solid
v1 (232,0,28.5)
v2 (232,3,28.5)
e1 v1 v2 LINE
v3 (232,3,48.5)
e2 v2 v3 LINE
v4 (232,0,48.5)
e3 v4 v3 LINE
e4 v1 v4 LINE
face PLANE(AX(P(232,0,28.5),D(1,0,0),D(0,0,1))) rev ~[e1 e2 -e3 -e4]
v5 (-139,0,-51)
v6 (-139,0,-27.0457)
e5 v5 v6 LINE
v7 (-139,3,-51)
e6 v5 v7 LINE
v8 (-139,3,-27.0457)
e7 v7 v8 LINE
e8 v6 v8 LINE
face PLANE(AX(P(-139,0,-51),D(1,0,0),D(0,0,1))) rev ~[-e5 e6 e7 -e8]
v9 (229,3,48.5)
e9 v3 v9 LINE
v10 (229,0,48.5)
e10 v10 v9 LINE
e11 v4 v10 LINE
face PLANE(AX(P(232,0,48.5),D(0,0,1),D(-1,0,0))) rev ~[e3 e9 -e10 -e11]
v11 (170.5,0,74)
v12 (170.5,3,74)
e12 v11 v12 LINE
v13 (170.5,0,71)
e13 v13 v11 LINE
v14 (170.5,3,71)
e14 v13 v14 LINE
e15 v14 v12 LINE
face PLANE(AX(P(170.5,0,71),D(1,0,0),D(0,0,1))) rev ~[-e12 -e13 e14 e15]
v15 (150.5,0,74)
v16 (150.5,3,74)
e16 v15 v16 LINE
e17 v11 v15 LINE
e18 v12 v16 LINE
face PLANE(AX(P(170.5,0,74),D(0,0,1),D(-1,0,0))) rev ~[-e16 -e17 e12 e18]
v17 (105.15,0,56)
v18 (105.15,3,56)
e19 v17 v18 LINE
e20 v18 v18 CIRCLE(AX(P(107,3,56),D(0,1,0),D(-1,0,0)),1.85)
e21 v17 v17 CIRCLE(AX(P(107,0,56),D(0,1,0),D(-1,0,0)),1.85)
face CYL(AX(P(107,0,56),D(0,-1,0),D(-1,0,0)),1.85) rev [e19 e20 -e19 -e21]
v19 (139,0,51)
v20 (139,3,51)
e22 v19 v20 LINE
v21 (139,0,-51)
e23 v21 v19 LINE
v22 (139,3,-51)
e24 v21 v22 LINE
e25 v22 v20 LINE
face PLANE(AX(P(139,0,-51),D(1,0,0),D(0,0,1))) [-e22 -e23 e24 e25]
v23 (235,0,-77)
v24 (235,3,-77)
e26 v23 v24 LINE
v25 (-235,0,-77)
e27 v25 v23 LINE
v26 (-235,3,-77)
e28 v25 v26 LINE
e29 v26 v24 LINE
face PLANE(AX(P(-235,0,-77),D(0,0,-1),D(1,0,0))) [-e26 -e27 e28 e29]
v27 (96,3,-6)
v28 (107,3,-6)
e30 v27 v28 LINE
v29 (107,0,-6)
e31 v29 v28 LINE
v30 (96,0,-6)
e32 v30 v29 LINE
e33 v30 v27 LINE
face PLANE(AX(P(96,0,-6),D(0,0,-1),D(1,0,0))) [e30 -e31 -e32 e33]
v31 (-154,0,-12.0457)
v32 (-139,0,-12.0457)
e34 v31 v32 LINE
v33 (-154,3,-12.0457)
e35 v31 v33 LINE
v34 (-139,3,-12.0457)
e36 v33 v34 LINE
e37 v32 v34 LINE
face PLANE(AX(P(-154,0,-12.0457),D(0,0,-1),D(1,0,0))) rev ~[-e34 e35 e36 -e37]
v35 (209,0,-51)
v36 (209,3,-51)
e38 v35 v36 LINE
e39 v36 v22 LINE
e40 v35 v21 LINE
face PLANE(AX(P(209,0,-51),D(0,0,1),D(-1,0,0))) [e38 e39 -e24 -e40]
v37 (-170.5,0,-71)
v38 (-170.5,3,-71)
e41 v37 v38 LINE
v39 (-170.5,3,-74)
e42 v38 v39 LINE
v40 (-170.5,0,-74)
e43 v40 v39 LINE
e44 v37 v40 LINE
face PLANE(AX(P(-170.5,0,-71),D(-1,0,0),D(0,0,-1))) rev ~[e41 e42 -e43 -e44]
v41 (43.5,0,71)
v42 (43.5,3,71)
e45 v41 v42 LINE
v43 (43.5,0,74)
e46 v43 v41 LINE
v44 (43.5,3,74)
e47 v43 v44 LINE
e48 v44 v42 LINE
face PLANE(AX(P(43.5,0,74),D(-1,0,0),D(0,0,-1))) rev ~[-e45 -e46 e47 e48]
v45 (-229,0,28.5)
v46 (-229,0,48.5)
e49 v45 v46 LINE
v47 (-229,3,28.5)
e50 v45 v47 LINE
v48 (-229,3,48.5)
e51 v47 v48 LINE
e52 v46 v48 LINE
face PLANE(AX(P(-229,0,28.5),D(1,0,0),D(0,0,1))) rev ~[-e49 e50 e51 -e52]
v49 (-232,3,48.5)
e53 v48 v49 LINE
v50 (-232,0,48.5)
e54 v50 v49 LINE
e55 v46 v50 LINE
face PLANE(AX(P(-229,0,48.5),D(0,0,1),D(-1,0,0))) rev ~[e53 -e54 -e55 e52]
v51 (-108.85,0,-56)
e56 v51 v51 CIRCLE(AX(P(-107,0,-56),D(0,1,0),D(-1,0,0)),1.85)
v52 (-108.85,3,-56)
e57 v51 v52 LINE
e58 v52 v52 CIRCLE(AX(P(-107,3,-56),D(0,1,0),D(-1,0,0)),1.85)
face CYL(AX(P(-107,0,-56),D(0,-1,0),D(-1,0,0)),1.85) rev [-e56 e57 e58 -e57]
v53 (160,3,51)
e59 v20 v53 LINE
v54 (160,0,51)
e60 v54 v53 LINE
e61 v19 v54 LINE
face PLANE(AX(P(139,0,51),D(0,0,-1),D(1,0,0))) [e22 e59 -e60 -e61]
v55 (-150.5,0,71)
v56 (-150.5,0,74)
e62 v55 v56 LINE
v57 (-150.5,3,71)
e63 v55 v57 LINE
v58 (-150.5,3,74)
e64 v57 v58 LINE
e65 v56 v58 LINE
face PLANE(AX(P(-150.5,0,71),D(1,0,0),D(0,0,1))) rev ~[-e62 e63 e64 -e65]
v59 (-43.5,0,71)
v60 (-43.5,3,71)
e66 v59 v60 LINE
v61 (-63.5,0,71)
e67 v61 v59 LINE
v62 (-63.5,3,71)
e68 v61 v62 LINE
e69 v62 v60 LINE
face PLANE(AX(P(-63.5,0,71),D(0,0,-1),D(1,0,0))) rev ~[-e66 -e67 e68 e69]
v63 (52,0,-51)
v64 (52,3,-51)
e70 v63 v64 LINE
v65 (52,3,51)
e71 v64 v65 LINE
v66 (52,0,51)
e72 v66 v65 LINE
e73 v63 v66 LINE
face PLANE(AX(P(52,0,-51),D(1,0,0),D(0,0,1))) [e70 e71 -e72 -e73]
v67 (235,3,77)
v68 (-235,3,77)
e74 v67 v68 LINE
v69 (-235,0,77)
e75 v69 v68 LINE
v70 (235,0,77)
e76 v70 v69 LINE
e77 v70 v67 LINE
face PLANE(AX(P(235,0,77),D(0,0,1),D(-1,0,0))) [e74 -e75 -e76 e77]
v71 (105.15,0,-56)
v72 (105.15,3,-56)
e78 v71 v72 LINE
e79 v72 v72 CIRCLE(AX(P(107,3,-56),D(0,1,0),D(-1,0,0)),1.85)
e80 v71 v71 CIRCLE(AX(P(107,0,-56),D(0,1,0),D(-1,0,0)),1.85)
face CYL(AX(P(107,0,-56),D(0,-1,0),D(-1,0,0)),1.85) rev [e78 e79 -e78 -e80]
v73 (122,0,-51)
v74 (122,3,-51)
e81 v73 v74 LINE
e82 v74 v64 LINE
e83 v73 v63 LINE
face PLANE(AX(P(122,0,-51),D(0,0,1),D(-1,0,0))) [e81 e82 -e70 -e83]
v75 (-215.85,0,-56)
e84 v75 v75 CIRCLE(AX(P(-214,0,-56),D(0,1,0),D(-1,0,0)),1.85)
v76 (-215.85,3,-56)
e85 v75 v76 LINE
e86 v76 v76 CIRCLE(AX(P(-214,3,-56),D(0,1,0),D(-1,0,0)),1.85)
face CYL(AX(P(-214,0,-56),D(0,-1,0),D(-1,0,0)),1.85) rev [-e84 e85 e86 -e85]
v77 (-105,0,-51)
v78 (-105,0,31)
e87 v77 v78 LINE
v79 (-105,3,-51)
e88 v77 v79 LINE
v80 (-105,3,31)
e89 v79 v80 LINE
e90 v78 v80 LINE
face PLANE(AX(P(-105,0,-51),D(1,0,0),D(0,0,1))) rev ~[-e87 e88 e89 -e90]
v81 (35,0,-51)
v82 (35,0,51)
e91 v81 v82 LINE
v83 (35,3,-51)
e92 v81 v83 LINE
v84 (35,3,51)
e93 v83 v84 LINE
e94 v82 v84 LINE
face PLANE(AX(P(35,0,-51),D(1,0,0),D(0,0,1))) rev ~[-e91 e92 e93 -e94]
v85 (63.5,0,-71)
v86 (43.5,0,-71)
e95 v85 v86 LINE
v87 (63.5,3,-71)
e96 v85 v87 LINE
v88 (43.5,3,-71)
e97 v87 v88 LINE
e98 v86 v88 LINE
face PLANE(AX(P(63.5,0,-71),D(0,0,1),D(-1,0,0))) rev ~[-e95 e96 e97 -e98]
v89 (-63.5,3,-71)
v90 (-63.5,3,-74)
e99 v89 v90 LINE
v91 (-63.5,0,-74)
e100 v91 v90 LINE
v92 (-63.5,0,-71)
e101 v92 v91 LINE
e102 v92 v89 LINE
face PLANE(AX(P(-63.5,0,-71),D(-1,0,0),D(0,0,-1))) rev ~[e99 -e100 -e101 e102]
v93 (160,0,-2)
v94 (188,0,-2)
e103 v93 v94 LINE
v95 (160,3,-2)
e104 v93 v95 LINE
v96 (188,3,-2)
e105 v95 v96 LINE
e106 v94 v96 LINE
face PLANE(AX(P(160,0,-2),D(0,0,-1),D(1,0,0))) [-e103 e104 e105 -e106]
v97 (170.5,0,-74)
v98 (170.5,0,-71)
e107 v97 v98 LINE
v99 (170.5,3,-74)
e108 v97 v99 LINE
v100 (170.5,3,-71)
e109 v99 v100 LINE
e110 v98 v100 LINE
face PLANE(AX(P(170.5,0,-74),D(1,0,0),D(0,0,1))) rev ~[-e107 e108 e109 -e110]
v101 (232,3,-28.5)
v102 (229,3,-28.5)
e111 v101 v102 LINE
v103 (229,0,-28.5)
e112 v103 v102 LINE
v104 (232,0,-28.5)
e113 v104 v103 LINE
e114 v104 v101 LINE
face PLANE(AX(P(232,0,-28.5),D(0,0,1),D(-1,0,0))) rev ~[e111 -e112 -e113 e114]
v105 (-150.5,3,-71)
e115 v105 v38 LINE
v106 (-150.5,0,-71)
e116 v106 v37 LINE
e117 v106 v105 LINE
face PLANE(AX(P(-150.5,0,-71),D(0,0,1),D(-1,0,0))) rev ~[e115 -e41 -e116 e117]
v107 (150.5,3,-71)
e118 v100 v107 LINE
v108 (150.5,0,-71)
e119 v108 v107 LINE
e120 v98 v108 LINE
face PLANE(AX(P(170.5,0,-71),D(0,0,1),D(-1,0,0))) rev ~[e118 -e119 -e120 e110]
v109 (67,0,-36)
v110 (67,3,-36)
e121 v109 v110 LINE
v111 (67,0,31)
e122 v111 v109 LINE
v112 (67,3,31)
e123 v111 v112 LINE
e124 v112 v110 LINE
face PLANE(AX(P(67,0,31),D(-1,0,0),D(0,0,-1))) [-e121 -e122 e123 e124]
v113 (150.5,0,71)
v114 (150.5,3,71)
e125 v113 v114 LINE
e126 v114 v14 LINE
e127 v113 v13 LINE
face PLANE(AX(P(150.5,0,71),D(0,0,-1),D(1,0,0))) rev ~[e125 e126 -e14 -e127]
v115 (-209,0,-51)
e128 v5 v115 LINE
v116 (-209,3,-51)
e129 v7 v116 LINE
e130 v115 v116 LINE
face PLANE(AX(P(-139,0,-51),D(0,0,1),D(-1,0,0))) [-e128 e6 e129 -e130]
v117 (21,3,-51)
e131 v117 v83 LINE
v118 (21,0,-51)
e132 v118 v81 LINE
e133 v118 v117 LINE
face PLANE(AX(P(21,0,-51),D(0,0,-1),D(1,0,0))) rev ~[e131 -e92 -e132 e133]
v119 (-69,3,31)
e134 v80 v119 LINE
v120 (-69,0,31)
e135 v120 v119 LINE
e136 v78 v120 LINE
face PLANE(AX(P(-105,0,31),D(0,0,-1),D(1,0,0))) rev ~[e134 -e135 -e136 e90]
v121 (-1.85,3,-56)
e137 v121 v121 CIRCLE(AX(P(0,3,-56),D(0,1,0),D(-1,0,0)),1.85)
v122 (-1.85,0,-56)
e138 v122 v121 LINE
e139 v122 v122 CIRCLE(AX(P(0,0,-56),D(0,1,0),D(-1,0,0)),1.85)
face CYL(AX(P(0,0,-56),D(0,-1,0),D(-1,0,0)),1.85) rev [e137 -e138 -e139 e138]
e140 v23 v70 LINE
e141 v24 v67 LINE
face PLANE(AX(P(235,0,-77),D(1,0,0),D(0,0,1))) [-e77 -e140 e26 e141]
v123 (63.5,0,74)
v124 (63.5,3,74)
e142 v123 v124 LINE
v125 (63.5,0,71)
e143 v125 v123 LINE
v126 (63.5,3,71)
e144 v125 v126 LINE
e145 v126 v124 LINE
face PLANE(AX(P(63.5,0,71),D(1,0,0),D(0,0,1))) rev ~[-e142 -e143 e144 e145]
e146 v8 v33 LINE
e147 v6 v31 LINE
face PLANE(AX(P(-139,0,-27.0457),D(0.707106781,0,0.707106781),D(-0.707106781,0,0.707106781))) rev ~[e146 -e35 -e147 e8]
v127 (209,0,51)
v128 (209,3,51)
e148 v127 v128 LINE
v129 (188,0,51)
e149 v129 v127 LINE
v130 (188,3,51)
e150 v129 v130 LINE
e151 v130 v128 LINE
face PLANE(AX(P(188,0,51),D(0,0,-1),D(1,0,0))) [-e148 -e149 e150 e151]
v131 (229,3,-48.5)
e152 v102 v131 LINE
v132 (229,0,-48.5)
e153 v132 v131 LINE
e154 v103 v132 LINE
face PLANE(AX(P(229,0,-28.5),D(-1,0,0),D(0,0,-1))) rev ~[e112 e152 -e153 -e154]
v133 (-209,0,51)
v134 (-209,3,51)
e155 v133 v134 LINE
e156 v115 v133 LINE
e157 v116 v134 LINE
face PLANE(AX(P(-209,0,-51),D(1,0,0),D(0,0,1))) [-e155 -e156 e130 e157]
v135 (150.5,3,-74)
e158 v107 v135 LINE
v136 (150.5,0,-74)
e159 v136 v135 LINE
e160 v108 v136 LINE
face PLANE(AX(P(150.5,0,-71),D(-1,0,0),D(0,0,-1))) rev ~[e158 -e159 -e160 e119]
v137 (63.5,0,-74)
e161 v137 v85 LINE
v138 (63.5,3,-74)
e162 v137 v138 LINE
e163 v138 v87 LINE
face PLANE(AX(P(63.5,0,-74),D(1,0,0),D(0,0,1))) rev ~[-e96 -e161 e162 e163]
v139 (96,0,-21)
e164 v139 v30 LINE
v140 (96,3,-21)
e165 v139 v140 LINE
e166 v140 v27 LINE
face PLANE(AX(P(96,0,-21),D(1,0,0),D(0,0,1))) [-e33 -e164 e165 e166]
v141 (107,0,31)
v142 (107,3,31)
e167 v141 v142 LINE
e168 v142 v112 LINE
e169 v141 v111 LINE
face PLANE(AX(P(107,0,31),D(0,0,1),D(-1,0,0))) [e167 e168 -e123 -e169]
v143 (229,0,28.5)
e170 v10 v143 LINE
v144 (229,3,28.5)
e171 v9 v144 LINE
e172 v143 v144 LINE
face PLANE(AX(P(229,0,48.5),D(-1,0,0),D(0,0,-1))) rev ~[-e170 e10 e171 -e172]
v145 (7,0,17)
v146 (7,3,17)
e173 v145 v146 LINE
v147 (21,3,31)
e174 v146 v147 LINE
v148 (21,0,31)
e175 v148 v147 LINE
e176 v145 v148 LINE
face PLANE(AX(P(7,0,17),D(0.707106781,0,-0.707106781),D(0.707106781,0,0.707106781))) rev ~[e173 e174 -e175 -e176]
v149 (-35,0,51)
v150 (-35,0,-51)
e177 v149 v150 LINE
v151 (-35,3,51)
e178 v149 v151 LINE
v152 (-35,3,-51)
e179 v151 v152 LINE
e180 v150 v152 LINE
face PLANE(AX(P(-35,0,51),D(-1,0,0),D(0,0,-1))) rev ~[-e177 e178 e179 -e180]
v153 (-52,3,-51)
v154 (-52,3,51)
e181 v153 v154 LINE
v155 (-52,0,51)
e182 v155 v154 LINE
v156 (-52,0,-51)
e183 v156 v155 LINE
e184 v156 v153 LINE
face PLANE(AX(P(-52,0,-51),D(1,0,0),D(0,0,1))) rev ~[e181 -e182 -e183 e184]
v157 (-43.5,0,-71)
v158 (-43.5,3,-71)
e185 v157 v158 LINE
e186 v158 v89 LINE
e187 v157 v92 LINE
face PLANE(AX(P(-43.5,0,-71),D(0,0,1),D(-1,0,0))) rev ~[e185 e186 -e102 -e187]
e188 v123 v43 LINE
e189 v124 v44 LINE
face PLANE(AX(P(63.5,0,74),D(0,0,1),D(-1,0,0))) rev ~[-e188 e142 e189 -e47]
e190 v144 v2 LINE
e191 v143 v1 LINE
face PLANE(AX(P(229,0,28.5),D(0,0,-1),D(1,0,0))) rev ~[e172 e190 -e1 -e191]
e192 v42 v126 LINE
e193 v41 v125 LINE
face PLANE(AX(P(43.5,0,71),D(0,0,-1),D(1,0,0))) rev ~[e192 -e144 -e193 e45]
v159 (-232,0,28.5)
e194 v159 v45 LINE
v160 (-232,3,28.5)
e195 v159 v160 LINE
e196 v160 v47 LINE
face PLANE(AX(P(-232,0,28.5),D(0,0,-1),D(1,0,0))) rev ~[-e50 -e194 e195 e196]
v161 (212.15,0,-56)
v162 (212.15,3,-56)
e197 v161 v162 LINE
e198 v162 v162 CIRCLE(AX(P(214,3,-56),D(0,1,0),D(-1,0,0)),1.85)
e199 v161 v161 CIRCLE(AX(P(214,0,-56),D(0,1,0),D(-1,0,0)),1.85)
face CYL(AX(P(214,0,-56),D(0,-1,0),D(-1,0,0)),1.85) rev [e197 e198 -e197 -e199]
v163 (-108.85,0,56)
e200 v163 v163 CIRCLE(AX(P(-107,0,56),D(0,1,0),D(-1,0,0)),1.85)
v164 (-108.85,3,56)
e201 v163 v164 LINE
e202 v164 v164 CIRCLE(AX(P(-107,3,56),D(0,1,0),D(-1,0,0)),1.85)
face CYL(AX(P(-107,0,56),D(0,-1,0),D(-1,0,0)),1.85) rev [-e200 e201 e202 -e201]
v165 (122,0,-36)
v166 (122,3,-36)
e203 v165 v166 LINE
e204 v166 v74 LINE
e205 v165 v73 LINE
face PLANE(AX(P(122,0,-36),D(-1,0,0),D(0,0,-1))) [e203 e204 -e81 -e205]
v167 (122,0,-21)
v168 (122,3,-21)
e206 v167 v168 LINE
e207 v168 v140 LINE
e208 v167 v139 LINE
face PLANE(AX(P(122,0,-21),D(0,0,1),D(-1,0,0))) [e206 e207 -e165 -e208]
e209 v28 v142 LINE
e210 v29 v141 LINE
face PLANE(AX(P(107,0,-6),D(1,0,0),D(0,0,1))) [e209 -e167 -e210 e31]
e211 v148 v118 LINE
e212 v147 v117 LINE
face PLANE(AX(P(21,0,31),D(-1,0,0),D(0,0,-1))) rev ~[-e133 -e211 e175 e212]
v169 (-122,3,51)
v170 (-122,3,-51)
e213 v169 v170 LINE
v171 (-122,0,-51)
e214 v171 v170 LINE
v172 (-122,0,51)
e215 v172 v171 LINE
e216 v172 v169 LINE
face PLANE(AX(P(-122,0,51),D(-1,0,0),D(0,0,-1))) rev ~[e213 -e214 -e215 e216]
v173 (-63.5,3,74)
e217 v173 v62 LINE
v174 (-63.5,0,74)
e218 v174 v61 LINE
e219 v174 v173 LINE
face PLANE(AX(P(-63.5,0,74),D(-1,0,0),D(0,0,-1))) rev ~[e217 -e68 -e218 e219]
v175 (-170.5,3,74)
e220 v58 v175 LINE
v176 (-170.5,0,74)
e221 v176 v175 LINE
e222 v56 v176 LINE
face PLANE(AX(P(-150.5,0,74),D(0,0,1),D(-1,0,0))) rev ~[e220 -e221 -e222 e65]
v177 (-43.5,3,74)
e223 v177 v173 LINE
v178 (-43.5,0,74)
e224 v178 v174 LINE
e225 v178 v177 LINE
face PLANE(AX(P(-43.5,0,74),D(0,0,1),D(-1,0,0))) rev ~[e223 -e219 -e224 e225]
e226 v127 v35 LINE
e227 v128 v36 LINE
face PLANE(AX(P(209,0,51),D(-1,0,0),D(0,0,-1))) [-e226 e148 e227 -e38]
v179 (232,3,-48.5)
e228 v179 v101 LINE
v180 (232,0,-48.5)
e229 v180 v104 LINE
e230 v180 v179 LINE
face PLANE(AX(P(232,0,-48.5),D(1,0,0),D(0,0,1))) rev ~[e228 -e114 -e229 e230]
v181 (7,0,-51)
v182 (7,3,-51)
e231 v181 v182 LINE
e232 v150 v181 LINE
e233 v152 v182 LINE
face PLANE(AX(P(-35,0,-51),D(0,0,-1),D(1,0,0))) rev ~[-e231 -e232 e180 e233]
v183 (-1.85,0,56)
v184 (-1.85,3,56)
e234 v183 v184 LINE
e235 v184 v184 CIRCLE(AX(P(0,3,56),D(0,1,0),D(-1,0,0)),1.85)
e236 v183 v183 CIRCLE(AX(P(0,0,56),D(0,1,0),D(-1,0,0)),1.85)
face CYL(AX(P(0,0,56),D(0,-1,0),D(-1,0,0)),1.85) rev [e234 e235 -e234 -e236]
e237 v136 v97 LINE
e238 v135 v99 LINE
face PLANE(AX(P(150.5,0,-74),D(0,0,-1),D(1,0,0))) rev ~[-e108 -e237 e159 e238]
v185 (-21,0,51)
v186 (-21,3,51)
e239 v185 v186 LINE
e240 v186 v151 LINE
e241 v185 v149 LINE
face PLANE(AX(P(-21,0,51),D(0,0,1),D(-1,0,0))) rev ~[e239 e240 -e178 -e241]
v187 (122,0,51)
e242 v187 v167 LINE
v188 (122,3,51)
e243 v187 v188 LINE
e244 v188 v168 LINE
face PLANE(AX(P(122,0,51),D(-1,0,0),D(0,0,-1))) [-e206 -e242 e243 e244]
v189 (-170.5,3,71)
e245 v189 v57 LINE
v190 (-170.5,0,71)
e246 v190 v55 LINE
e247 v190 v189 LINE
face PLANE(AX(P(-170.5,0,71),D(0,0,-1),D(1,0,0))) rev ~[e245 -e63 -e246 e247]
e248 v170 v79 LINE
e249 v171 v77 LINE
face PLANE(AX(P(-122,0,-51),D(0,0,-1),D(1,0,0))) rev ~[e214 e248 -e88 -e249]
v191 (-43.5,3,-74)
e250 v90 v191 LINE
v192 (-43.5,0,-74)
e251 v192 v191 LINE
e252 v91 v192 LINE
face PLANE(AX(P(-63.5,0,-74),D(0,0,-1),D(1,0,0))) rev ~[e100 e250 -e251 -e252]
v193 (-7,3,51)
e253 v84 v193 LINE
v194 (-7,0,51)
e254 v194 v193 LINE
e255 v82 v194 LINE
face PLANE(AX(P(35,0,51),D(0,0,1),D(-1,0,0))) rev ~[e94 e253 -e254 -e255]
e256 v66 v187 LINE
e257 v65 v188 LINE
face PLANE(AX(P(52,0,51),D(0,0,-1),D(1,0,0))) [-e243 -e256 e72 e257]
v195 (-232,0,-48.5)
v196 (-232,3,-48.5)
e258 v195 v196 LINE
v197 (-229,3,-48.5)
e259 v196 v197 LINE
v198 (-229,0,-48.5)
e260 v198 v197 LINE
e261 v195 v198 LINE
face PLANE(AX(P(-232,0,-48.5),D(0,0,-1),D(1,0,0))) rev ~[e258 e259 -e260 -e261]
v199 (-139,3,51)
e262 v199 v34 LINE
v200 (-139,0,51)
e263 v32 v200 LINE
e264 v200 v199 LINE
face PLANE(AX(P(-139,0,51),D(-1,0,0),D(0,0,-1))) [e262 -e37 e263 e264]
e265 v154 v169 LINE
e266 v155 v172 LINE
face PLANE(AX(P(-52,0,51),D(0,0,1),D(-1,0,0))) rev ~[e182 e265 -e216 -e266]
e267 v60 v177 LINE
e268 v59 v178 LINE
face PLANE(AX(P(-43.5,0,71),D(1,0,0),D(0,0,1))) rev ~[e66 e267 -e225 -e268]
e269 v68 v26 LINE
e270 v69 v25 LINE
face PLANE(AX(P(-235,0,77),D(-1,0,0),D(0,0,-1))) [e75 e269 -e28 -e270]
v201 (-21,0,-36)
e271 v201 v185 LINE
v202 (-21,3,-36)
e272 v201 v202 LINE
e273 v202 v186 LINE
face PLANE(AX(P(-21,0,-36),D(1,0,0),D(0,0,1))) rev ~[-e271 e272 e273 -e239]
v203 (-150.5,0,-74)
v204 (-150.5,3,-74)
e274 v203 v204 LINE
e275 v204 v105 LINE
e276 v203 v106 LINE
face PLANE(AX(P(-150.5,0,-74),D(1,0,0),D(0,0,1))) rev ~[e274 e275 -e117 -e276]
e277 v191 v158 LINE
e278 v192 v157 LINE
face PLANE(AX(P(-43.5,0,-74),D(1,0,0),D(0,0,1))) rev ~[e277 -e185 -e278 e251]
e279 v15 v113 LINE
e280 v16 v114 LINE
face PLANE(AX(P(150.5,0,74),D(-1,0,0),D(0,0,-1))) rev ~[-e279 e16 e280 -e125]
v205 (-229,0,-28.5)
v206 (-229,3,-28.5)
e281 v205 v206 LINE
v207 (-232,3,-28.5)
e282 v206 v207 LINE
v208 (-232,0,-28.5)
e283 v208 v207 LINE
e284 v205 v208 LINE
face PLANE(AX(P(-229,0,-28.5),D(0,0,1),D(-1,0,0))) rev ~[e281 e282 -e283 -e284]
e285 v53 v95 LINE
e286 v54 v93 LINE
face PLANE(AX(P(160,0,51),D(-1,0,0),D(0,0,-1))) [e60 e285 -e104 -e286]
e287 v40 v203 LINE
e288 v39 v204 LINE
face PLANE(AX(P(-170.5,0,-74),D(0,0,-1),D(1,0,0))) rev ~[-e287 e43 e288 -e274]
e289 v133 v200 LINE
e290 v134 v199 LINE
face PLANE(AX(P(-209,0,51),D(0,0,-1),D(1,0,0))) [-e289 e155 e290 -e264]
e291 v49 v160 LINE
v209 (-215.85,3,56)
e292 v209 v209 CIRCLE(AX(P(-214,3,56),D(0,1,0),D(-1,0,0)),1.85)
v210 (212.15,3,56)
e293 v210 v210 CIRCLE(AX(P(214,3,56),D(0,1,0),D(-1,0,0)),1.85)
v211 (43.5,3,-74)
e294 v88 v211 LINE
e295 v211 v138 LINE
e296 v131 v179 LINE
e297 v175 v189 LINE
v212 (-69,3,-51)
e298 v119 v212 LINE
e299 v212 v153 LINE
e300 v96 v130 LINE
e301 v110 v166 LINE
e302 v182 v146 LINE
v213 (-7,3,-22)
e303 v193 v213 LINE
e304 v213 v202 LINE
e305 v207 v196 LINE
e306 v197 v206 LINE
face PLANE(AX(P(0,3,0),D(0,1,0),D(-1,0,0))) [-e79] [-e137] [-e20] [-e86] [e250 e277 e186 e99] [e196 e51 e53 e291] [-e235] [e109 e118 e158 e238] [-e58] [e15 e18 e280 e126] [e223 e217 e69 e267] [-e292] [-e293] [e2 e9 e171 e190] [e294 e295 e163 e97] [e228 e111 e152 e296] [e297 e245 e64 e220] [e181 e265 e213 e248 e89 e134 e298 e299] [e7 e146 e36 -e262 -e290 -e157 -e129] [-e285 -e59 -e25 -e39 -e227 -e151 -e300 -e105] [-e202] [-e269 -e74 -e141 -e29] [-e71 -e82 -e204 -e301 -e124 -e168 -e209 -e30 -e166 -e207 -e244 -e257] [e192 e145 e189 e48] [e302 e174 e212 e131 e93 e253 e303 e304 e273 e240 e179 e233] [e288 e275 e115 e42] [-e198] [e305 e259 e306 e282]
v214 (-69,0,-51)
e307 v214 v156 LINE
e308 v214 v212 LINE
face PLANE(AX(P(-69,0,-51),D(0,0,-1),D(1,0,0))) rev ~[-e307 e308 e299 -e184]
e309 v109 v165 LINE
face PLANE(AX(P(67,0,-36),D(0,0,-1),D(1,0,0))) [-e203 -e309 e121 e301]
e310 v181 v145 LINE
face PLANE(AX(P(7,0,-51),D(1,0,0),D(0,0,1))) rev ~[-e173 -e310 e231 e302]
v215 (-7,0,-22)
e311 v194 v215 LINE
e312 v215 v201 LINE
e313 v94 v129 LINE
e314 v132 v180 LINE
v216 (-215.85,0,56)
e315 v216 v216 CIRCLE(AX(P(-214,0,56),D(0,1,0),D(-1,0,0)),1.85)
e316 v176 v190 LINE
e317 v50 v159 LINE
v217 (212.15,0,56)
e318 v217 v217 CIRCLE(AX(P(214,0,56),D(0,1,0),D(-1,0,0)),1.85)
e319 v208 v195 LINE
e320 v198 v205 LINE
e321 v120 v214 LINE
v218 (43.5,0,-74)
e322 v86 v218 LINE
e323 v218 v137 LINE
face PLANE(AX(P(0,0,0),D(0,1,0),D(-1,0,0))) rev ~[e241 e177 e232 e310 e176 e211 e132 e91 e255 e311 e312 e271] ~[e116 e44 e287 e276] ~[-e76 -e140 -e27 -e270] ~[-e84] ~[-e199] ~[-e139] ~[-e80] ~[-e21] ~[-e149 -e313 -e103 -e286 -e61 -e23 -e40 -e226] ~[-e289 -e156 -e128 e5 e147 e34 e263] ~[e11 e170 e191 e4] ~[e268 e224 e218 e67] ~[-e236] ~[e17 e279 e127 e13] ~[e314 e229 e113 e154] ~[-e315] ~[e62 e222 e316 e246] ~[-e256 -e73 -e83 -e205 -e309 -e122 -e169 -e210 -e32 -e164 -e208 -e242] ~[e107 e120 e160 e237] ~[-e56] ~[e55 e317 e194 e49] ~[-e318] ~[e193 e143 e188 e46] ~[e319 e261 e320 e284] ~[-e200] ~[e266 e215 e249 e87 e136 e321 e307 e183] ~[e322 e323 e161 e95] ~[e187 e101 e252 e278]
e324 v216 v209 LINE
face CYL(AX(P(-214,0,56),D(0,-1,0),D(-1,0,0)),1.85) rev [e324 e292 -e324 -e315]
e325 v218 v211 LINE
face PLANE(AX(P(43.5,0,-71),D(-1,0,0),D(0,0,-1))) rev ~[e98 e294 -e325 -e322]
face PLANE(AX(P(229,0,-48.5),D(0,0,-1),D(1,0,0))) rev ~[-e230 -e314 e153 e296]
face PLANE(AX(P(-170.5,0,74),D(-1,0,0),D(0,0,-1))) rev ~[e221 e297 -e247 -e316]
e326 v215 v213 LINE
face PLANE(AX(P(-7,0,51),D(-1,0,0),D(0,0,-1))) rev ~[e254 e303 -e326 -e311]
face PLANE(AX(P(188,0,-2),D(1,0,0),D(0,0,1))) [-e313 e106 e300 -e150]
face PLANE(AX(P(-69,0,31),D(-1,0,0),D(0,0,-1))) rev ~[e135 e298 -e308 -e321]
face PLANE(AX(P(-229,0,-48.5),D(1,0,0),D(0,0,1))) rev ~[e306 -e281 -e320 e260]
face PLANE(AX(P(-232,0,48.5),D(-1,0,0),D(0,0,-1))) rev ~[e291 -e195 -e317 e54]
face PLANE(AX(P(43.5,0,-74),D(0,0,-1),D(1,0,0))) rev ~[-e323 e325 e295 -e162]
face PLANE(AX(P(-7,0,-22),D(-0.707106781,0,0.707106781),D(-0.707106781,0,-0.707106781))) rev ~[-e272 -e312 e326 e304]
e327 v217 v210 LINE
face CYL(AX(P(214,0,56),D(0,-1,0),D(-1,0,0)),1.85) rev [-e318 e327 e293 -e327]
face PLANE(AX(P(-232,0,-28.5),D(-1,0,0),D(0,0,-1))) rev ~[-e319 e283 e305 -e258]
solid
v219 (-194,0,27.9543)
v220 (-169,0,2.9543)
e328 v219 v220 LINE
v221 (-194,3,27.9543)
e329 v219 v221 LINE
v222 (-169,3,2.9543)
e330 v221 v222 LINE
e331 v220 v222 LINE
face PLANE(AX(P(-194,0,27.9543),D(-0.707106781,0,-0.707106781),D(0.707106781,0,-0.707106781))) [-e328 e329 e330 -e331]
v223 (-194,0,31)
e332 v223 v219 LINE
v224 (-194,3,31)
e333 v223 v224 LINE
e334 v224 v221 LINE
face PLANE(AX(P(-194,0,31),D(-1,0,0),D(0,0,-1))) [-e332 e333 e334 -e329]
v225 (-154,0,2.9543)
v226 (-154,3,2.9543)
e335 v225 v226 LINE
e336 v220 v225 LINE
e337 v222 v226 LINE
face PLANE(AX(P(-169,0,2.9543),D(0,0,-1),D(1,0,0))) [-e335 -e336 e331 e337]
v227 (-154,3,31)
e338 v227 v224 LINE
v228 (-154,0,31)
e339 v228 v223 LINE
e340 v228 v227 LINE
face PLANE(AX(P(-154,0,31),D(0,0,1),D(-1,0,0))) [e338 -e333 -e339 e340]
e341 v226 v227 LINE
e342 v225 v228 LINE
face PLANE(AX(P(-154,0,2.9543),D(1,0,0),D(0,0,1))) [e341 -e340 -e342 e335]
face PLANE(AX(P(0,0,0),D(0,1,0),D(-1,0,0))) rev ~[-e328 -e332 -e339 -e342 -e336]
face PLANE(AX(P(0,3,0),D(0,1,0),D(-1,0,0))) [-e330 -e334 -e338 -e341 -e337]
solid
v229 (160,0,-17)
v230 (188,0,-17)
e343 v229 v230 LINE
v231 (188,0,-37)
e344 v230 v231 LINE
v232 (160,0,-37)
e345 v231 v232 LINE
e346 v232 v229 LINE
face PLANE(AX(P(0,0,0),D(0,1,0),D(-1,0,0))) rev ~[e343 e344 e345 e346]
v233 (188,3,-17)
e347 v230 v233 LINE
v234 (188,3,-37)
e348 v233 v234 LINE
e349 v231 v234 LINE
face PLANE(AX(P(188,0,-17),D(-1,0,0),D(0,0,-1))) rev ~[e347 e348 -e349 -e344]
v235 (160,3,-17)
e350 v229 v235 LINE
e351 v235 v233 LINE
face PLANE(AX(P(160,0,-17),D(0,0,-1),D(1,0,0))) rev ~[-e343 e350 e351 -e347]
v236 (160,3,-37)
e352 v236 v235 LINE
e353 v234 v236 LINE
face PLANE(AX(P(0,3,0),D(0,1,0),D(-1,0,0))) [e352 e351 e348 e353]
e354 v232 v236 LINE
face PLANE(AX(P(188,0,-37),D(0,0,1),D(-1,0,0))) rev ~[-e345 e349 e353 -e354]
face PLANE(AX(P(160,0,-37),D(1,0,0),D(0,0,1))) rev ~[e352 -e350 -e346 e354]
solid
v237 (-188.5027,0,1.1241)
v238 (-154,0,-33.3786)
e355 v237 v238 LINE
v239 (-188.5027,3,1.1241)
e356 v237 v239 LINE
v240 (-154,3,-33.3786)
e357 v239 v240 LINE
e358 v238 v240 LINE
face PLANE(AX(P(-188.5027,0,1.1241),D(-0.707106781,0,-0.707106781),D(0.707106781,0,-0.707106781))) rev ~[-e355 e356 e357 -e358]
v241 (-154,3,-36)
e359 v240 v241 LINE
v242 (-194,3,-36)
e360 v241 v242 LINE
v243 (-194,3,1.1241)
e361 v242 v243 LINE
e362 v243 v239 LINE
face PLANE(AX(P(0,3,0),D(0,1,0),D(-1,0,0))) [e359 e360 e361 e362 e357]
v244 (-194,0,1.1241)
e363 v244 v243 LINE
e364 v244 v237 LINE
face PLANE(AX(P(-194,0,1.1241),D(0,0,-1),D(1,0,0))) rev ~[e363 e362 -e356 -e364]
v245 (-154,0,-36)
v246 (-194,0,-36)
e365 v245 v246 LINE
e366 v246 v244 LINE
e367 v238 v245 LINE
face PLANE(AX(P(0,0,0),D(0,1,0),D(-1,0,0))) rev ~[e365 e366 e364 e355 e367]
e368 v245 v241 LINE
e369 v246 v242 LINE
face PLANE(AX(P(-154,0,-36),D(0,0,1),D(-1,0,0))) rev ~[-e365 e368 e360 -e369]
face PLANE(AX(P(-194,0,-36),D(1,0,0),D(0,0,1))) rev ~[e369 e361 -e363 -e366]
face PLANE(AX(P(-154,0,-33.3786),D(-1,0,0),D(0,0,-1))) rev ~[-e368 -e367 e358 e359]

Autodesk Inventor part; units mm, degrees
ref_plane "YZ Plane" through (0, 0, 0) normal (1, 0, 0) x (0, 1, 0)
ref_plane "XZ Plane" through (0, 0, 0) normal (0, 1, 0) x (-1, 0, 0)
ref_plane "XY Plane" through (0, 0, 0) normal (0, 0, 1) x (1, 0, 0)
sketch "Sketch1" plane through (0, 0, 0) normal (0, 1, 0) x (-1, 0, 0)
  line L0 (254, -152.4) -> (-254, -152.4) construction
  line L1 (-254, -152.4) -> (-254, 152.4) construction
  line L2 (-254, 152.4) -> (254, 152.4) construction
  line L3 (254, 152.4) -> (254, -152.4) construction
  line L4 (250, -150) -> (-250, -150) construction
  line L5 (-250, -150) -> (-250, 150) construction
  line L6 (-250, 150) -> (250, 150) construction
  line L7 (250, 150) -> (250, -150) construction
  line L8 (35, -51) -> (-35, -51) construction
  line L9 (-35, -51) -> (-35, 51) construction
  line L10 (-35, 51) -> (35, 51) construction
  line L11 (35, 51) -> (35, -51) construction
  line L12 (-52, -51) -> (-122, -51) construction
  line L13 (-52, 51) -> (-52, -51) construction
  line L14 (-122, 51) -> (-52, 51) construction
  line L15 (-122, -51) -> (-122, 51) construction
  line L16 (-139, -51) -> (-209, -51) construction
  line L17 (-139, 51) -> (-139, -51) construction
  line L18 (-209, 51) -> (-139, 51) construction
  line L19 (-209, -51) -> (-209, 51) construction
  line L20 (122, -51) -> (52, -51) construction
  line L21 (122, 51) -> (122, -51) construction
  line L22 (52, 51) -> (122, 51) construction
  line L23 (52, -51) -> (52, 51) construction
  line L24 (35, -51) -> (-35, -51) construction
  line L25 (35, 51) -> (35, -51) construction
  line L26 (-35, 51) -> (35, 51) construction
  line L27 (-35, -51) -> (-35, 51) construction
  line L28 (-52, -51) -> (-122, -51) construction
  line L29 (-52, 51) -> (-52, -51) construction
  line L30 (-122, 51) -> (-52, 51) construction
  line L31 (-122, -51) -> (-122, 51) construction
  line L32 (209, -51) -> (139, -51) construction
  line L33 (209, 51) -> (209, -51) construction
  line L34 (139, 51) -> (209, 51) construction
  line L35 (139, -51) -> (139, 51) construction
  line L36 (122, -51) -> (52, -51) construction
  line L37 (122, 51) -> (122, -51) construction
  line L38 (52, 51) -> (122, 51) construction
  line L39 (52, -51) -> (52, 51) construction
  line L40 (35, -51) -> (-35, -51) construction
  line L41 (35, 51) -> (35, -51) construction
  line L42 (-35, 51) -> (35, 51) construction
  line L43 (-35, -51) -> (-35, 51) construction
  line L44 (35, 51) -> (35, -51)
  line L45 (35, -51) -> (-7, -51)
  line L46 (-7, -51) -> (-7, 17)
  line L47 (-7, 17) -> (-21, 31)
  line L48 (-21, 31) -> (-21, -51)
  line L49 (-21, -51) -> (-35, -51)
  line L50 (-35, -51) -> (-35, 51)
  line L51 (-35, 51) -> (7, 51)
  line L52 (7, 51) -> (7, -22)
  line L53 (7, -22) -> (21, -36)
  line L54 (21, -36) -> (21, 51)
  line L55 (21, 51) -> (35, 51)
  line L56 (0, -51) -> (0, 51) construction
  line L57 (-122, -51) -> (-52, -51)
  line L58 (-52, -51) -> (-52, 51)
  line L59 (-52, 51) -> (-122, 51)
  line L60 (-122, 51) -> (-122, -21)
  line L61 (-122, -21) -> (-96, -21)
  line L62 (-96, -21) -> (-96, -6)
  line L63 (-96, -6) -> (-107, -6)
  line L64 (-107, -6) -> (-107, 31)
  line L65 (-107, 31) -> (-67, 31)
  line L66 (-67, 31) -> (-67, -36)
  line L67 (-67, -36) -> (-122, -36)
  line L68 (-122, -36) -> (-122, -51)
  line L69 (-139, 51) -> (-160, 51)
  line L70 (-160, 51) -> (-160, -2)
  line L71 (-160, -2) -> (-188, -2)
  line L72 (-188, -2) -> (-188, 51)
  line L73 (-188, 51) -> (-209, 51)
  line L74 (-209, 51) -> (-209, -51)
  line L75 (-209, -51) -> (-139, -51)
  line L76 (-139, -51) -> (-139, 51)
  line L77 (-160, -37) -> (-160, -17)
  line L78 (-160, -17) -> (-188, -17)
  line L79 (-188, -17) -> (-188, -37)
  line L80 (-188, -37) -> (-160, -37)
  line L81 (122, -51) -> (105, -51)
  line L82 (105, -51) -> (105, 31)
  line L83 (105, 31) -> (69, 31)
  line L84 (69, 31) -> (69, -51)
  line L85 (69, -51) -> (52, -51)
  line L86 (52, -51) -> (52, 51)
  line L87 (52, 51) -> (122, 51)
  line L88 (122, 51) -> (122, -51)
  line L89 (209, -51) -> (209, 51)
  line L90 (209, 51) -> (139, 51)
  line L91 (139, -51) -> (209, -51)
  line L92 (194, -36) -> (194, 1.1241)
  line L93 (194, -17.438) -> (166.3593, -17.438) construction
  line L94 (149.2402, 0) -> (139, 0) construction
  line L95 (194, 1.1241) -> (188.5027, 1.1241)
  line L96 (188.5027, 1.1241) -> (154, -33.3786)
  line L97 (188.5027, 1.1241) -> (237.2968, 1.1241) construction
  line L98 (154, -33.3786) -> (154, -36)
  line L99 (154, -36) -> (194, -36)
  line L100 (149.2402, 0) -> (139, 0)
  line L101 (169, 2.9543) -> (154, 2.9543)
  line L102 (154, 2.9543) -> (154, 31)
  line L103 (154, 31) -> (194, 31)
  line L104 (194, 31) -> (194, 27.9543)
  line L105 (194, 27.9543) -> (169, 2.9543)
  line L106 (194, 27.9543) -> (222.5108, 27.9543) construction
  line L107 (235, -77) -> (-235, -77)
  line L108 (-235, -77) -> (-235, 77)
  line L109 (-235, 77) -> (235, 77)
  line L110 (235, 77) -> (235, -77)
  line L111 (139, -51) -> (139, -27.0457)
  line L112 (139, -27.0457) -> (154, -12.0457)
  line L113 (139, -27.0457) -> (160.2132, -27.0457) construction
  line L114 (154, -12.0457) -> (139, -12.0457)
  line L115 (139, 51) -> (139, -12.0457)
  line L116 (154, -12.0457) -> (169, 2.9543) construction
  circle A0 centre (0, -56) radius 1.85
  circle A1 centre (107, -56) radius 1.85
  circle A2 centre (-107, -56) radius 1.85
  circle A3 centre (107, 56) radius 1.85
  circle A4 centre (-107, 56) radius 1.85
  circle A5 centre (0, 56) radius 1.85
  circle A6 centre (214, -56) radius 1.85
  circle A7 centre (214, 56) radius 1.85
  circle A8 centre (-214, 56) radius 1.85
  circle A9 centre (-214, -56) radius 1.85
  line L117 (170.5, -74) -> (150.5, -74)
  line L118 (150.5, -74) -> (150.5, -71)
  line L119 (150.5, -71) -> (170.5, -71)
  line L120 (170.5, -71) -> (170.5, -74)
  line L121 (160.5, -74) -> (160.5, -71) construction
  line L122 (170.5, 71) -> (150.5, 71)
  line L123 (150.5, 71) -> (150.5, 74)
  line L124 (150.5, 74) -> (170.5, 74)
  line L125 (170.5, 74) -> (170.5, 71)
  line L126 (160.5, 71) -> (160.5, 74) construction
  line L127 (43.5, -71) -> (63.5, -71)
  line L128 (43.5, -74) -> (43.5, -71)
  line L129 (63.5, -74) -> (43.5, -74)
  line L130 (53.5, -74) -> (53.5, -71) construction
  line L131 (63.5, -71) -> (63.5, -74)
  line L132 (63.5, 71) -> (43.5, 71)
  line L133 (43.5, 71) -> (43.5, 74)
  line L134 (43.5, 74) -> (63.5, 74)
  line L135 (53.5, 71) -> (53.5, 74) construction
  line L136 (63.5, 74) -> (63.5, 71)
  line L137 (-63.5, -71) -> (-43.5, -71)
  line L138 (-63.5, -74) -> (-63.5, -71)
  line L139 (-43.5, -74) -> (-63.5, -74)
  line L140 (-53.5, -74) -> (-53.5, -71) construction
  line L141 (-43.5, -71) -> (-43.5, -74)
  line L142 (-43.5, 71) -> (-63.5, 71)
  line L143 (-63.5, 71) -> (-63.5, 74)
  line L144 (-63.5, 74) -> (-43.5, 74)
  line L145 (-53.5, 71) -> (-53.5, 74) construction
  line L146 (-43.5, 74) -> (-43.5, 71)
  line L147 (-170.5, -71) -> (-150.5, -71)
  line L148 (-170.5, -74) -> (-170.5, -71)
  line L149 (-150.5, -74) -> (-170.5, -74)
  line L150 (-160.5, -74) -> (-160.5, -71) construction
  line L151 (-150.5, -71) -> (-150.5, -74)
  line L152 (-150.5, 71) -> (-170.5, 71)
  line L153 (-170.5, 71) -> (-170.5, 74)
  line L154 (-170.5, 74) -> (-150.5, 74)
  line L155 (-160.5, 71) -> (-160.5, 74) construction
  line L156 (-150.5, 74) -> (-150.5, 71)
  line L157 (232, -48.5) -> (229, -48.5)
  line L158 (229, -48.5) -> (229, -28.5)
  line L159 (229, -28.5) -> (232, -28.5)
  line L160 (232, -28.5) -> (232, -48.5)
  line L161 (232, -38.5) -> (229, -38.5) construction
  line L162 (232, 28.5) -> (229, 28.5)
  line L163 (229, 28.5) -> (229, 48.5)
  line L164 (229, 48.5) -> (232, 48.5)
  line L165 (232, 48.5) -> (232, 28.5)
  line L166 (232, 38.5) -> (229, 38.5) construction
  line L167 (-229, -48.5) -> (-232, -48.5)
  line L168 (-232, -48.5) -> (-232, -28.5)
  line L169 (-232, -28.5) -> (-229, -28.5)
  line L170 (-229, -28.5) -> (-229, -48.5)
  line L171 (-229, 28.5) -> (-232, 28.5)
  line L172 (-232, 28.5) -> (-232, 48.5)
  line L173 (-232, 48.5) -> (-229, 48.5)
  line L174 (-229, 48.5) -> (-229, 28.5)
  line L175 (-229, -38.5) -> (-232, -38.5) construction
  line L176 (-229, 38.5) -> (-232, 38.5) construction
  point P0 (0, 0)
  point P1 (254, 0)
  point P2 (0, -152.4)
  point P3 (0, -150)
  point P4 (-250, 0)
  point P5 (-40, 0)
  point P6 (0, -80)
  point P7 (0, -51)
  point P8 (-35, 0)
  point P9 (-87, -51)
  point P10 (-87, 0)
  point P11 (-122, 0)
  point P12 (-174, -51)
  point P13 (-174, 0)
  point P14 (-209, 0)
  point P15 (87, -51)
  point P16 (87, 0)
  point P17 (52, 0)
  point P18 (0, -51)
  point P19 (0, 0)
  point P20 (-35, 0)
  point P21 (-87, -51)
  point P22 (-87, 0)
  point P23 (-122, 0)
  point P24 (174, -51)
  point P25 (174, 0)
  point P26 (139, 0)
  point P27 (87, -51)
  point P28 (87, 0)
  point P29 (52, 0)
  point P30 (0, 0)
  point P31 (-35, 0)
  point P32 (149.2402, 0)
  point P33 (128.5, -20.7402)
  point P34 (-235, 0)
  point P35 (0, 0)
  point P36 (0, -77)
  point P37 (192.2235, 31)
  dimension "d0" = 508
  dimension "d1" = 304.8
  dimension "d2" = 500
  dimension "d3" = 300
  dimension "d6" = 70
  dimension "d7" = 102
  dimension "d10" = 87
  dimension "d13" = 87
  dimension "d16" = 135
  dimension "d17" = 135
  dimension "d18" = 14
  dimension "d19" = 14
  dimension "d20" = 15
  dimension "d21" = 20
  dimension "d22" = 15
  dimension "d23" = 15
  dimension "d24" = 20
  dimension "d25" = 15
  dimension "d26" = 15
  dimension "d27" = 11
  dimension "d28" = 15
  dimension "d29" = 21
  dimension "d30" = 21
  dimension "d31" = 14
  dimension "d32" = 20
  dimension "d33" = 15
  dimension "d34" = 17
  dimension "d35" = 20
  dimension "d36" = 17
  dimension "d43" = 0
  dimension "d45" = 15
  dimension "d47" = 135
  dimension "d49" = 15
  dimension "d51" = 135
  dimension "d56" = 20
  dimension "d57" = 45
  dimension "d58" = 15
  dimension "d59" = 15
  dimension "d62" = 45
  dimension "d63" = 470
  dimension "d64" = 15
  dimension "d67" = 154
  dimension "d68" = 418
  dimension "d69" = 102
  dimension "d70" = 14
  dimension "d71" = 3.7
  dimension "d72" = 5
  dimension "d73" = 5
  dimension "d74" = 107
  dimension "d75" = 107
  dimension "d76" = 107
  dimension "d77" = 107
  dimension "d78" = 3
  dimension "d79" = 20
  dimension "d80" = 3
  dimension "d81" = 160.5
  dimension "d82" = 20
  dimension "d83" = 3
  dimension "d84" = 3
  dimension "d87" = 107
  dimension "d92" = 3
  dimension "d93" = 20
  dimension "d94" = 38.5
  dimension "d95" = 3
extrude "Extrusion2" add sketch "Sketch1" along normal blind 3
equation "\"thickness\" = 3"
equation "\"kerf\" = 0.1"
equation "\"loose\" = 1.05"
properties part number "BungaSign-Bigger"
